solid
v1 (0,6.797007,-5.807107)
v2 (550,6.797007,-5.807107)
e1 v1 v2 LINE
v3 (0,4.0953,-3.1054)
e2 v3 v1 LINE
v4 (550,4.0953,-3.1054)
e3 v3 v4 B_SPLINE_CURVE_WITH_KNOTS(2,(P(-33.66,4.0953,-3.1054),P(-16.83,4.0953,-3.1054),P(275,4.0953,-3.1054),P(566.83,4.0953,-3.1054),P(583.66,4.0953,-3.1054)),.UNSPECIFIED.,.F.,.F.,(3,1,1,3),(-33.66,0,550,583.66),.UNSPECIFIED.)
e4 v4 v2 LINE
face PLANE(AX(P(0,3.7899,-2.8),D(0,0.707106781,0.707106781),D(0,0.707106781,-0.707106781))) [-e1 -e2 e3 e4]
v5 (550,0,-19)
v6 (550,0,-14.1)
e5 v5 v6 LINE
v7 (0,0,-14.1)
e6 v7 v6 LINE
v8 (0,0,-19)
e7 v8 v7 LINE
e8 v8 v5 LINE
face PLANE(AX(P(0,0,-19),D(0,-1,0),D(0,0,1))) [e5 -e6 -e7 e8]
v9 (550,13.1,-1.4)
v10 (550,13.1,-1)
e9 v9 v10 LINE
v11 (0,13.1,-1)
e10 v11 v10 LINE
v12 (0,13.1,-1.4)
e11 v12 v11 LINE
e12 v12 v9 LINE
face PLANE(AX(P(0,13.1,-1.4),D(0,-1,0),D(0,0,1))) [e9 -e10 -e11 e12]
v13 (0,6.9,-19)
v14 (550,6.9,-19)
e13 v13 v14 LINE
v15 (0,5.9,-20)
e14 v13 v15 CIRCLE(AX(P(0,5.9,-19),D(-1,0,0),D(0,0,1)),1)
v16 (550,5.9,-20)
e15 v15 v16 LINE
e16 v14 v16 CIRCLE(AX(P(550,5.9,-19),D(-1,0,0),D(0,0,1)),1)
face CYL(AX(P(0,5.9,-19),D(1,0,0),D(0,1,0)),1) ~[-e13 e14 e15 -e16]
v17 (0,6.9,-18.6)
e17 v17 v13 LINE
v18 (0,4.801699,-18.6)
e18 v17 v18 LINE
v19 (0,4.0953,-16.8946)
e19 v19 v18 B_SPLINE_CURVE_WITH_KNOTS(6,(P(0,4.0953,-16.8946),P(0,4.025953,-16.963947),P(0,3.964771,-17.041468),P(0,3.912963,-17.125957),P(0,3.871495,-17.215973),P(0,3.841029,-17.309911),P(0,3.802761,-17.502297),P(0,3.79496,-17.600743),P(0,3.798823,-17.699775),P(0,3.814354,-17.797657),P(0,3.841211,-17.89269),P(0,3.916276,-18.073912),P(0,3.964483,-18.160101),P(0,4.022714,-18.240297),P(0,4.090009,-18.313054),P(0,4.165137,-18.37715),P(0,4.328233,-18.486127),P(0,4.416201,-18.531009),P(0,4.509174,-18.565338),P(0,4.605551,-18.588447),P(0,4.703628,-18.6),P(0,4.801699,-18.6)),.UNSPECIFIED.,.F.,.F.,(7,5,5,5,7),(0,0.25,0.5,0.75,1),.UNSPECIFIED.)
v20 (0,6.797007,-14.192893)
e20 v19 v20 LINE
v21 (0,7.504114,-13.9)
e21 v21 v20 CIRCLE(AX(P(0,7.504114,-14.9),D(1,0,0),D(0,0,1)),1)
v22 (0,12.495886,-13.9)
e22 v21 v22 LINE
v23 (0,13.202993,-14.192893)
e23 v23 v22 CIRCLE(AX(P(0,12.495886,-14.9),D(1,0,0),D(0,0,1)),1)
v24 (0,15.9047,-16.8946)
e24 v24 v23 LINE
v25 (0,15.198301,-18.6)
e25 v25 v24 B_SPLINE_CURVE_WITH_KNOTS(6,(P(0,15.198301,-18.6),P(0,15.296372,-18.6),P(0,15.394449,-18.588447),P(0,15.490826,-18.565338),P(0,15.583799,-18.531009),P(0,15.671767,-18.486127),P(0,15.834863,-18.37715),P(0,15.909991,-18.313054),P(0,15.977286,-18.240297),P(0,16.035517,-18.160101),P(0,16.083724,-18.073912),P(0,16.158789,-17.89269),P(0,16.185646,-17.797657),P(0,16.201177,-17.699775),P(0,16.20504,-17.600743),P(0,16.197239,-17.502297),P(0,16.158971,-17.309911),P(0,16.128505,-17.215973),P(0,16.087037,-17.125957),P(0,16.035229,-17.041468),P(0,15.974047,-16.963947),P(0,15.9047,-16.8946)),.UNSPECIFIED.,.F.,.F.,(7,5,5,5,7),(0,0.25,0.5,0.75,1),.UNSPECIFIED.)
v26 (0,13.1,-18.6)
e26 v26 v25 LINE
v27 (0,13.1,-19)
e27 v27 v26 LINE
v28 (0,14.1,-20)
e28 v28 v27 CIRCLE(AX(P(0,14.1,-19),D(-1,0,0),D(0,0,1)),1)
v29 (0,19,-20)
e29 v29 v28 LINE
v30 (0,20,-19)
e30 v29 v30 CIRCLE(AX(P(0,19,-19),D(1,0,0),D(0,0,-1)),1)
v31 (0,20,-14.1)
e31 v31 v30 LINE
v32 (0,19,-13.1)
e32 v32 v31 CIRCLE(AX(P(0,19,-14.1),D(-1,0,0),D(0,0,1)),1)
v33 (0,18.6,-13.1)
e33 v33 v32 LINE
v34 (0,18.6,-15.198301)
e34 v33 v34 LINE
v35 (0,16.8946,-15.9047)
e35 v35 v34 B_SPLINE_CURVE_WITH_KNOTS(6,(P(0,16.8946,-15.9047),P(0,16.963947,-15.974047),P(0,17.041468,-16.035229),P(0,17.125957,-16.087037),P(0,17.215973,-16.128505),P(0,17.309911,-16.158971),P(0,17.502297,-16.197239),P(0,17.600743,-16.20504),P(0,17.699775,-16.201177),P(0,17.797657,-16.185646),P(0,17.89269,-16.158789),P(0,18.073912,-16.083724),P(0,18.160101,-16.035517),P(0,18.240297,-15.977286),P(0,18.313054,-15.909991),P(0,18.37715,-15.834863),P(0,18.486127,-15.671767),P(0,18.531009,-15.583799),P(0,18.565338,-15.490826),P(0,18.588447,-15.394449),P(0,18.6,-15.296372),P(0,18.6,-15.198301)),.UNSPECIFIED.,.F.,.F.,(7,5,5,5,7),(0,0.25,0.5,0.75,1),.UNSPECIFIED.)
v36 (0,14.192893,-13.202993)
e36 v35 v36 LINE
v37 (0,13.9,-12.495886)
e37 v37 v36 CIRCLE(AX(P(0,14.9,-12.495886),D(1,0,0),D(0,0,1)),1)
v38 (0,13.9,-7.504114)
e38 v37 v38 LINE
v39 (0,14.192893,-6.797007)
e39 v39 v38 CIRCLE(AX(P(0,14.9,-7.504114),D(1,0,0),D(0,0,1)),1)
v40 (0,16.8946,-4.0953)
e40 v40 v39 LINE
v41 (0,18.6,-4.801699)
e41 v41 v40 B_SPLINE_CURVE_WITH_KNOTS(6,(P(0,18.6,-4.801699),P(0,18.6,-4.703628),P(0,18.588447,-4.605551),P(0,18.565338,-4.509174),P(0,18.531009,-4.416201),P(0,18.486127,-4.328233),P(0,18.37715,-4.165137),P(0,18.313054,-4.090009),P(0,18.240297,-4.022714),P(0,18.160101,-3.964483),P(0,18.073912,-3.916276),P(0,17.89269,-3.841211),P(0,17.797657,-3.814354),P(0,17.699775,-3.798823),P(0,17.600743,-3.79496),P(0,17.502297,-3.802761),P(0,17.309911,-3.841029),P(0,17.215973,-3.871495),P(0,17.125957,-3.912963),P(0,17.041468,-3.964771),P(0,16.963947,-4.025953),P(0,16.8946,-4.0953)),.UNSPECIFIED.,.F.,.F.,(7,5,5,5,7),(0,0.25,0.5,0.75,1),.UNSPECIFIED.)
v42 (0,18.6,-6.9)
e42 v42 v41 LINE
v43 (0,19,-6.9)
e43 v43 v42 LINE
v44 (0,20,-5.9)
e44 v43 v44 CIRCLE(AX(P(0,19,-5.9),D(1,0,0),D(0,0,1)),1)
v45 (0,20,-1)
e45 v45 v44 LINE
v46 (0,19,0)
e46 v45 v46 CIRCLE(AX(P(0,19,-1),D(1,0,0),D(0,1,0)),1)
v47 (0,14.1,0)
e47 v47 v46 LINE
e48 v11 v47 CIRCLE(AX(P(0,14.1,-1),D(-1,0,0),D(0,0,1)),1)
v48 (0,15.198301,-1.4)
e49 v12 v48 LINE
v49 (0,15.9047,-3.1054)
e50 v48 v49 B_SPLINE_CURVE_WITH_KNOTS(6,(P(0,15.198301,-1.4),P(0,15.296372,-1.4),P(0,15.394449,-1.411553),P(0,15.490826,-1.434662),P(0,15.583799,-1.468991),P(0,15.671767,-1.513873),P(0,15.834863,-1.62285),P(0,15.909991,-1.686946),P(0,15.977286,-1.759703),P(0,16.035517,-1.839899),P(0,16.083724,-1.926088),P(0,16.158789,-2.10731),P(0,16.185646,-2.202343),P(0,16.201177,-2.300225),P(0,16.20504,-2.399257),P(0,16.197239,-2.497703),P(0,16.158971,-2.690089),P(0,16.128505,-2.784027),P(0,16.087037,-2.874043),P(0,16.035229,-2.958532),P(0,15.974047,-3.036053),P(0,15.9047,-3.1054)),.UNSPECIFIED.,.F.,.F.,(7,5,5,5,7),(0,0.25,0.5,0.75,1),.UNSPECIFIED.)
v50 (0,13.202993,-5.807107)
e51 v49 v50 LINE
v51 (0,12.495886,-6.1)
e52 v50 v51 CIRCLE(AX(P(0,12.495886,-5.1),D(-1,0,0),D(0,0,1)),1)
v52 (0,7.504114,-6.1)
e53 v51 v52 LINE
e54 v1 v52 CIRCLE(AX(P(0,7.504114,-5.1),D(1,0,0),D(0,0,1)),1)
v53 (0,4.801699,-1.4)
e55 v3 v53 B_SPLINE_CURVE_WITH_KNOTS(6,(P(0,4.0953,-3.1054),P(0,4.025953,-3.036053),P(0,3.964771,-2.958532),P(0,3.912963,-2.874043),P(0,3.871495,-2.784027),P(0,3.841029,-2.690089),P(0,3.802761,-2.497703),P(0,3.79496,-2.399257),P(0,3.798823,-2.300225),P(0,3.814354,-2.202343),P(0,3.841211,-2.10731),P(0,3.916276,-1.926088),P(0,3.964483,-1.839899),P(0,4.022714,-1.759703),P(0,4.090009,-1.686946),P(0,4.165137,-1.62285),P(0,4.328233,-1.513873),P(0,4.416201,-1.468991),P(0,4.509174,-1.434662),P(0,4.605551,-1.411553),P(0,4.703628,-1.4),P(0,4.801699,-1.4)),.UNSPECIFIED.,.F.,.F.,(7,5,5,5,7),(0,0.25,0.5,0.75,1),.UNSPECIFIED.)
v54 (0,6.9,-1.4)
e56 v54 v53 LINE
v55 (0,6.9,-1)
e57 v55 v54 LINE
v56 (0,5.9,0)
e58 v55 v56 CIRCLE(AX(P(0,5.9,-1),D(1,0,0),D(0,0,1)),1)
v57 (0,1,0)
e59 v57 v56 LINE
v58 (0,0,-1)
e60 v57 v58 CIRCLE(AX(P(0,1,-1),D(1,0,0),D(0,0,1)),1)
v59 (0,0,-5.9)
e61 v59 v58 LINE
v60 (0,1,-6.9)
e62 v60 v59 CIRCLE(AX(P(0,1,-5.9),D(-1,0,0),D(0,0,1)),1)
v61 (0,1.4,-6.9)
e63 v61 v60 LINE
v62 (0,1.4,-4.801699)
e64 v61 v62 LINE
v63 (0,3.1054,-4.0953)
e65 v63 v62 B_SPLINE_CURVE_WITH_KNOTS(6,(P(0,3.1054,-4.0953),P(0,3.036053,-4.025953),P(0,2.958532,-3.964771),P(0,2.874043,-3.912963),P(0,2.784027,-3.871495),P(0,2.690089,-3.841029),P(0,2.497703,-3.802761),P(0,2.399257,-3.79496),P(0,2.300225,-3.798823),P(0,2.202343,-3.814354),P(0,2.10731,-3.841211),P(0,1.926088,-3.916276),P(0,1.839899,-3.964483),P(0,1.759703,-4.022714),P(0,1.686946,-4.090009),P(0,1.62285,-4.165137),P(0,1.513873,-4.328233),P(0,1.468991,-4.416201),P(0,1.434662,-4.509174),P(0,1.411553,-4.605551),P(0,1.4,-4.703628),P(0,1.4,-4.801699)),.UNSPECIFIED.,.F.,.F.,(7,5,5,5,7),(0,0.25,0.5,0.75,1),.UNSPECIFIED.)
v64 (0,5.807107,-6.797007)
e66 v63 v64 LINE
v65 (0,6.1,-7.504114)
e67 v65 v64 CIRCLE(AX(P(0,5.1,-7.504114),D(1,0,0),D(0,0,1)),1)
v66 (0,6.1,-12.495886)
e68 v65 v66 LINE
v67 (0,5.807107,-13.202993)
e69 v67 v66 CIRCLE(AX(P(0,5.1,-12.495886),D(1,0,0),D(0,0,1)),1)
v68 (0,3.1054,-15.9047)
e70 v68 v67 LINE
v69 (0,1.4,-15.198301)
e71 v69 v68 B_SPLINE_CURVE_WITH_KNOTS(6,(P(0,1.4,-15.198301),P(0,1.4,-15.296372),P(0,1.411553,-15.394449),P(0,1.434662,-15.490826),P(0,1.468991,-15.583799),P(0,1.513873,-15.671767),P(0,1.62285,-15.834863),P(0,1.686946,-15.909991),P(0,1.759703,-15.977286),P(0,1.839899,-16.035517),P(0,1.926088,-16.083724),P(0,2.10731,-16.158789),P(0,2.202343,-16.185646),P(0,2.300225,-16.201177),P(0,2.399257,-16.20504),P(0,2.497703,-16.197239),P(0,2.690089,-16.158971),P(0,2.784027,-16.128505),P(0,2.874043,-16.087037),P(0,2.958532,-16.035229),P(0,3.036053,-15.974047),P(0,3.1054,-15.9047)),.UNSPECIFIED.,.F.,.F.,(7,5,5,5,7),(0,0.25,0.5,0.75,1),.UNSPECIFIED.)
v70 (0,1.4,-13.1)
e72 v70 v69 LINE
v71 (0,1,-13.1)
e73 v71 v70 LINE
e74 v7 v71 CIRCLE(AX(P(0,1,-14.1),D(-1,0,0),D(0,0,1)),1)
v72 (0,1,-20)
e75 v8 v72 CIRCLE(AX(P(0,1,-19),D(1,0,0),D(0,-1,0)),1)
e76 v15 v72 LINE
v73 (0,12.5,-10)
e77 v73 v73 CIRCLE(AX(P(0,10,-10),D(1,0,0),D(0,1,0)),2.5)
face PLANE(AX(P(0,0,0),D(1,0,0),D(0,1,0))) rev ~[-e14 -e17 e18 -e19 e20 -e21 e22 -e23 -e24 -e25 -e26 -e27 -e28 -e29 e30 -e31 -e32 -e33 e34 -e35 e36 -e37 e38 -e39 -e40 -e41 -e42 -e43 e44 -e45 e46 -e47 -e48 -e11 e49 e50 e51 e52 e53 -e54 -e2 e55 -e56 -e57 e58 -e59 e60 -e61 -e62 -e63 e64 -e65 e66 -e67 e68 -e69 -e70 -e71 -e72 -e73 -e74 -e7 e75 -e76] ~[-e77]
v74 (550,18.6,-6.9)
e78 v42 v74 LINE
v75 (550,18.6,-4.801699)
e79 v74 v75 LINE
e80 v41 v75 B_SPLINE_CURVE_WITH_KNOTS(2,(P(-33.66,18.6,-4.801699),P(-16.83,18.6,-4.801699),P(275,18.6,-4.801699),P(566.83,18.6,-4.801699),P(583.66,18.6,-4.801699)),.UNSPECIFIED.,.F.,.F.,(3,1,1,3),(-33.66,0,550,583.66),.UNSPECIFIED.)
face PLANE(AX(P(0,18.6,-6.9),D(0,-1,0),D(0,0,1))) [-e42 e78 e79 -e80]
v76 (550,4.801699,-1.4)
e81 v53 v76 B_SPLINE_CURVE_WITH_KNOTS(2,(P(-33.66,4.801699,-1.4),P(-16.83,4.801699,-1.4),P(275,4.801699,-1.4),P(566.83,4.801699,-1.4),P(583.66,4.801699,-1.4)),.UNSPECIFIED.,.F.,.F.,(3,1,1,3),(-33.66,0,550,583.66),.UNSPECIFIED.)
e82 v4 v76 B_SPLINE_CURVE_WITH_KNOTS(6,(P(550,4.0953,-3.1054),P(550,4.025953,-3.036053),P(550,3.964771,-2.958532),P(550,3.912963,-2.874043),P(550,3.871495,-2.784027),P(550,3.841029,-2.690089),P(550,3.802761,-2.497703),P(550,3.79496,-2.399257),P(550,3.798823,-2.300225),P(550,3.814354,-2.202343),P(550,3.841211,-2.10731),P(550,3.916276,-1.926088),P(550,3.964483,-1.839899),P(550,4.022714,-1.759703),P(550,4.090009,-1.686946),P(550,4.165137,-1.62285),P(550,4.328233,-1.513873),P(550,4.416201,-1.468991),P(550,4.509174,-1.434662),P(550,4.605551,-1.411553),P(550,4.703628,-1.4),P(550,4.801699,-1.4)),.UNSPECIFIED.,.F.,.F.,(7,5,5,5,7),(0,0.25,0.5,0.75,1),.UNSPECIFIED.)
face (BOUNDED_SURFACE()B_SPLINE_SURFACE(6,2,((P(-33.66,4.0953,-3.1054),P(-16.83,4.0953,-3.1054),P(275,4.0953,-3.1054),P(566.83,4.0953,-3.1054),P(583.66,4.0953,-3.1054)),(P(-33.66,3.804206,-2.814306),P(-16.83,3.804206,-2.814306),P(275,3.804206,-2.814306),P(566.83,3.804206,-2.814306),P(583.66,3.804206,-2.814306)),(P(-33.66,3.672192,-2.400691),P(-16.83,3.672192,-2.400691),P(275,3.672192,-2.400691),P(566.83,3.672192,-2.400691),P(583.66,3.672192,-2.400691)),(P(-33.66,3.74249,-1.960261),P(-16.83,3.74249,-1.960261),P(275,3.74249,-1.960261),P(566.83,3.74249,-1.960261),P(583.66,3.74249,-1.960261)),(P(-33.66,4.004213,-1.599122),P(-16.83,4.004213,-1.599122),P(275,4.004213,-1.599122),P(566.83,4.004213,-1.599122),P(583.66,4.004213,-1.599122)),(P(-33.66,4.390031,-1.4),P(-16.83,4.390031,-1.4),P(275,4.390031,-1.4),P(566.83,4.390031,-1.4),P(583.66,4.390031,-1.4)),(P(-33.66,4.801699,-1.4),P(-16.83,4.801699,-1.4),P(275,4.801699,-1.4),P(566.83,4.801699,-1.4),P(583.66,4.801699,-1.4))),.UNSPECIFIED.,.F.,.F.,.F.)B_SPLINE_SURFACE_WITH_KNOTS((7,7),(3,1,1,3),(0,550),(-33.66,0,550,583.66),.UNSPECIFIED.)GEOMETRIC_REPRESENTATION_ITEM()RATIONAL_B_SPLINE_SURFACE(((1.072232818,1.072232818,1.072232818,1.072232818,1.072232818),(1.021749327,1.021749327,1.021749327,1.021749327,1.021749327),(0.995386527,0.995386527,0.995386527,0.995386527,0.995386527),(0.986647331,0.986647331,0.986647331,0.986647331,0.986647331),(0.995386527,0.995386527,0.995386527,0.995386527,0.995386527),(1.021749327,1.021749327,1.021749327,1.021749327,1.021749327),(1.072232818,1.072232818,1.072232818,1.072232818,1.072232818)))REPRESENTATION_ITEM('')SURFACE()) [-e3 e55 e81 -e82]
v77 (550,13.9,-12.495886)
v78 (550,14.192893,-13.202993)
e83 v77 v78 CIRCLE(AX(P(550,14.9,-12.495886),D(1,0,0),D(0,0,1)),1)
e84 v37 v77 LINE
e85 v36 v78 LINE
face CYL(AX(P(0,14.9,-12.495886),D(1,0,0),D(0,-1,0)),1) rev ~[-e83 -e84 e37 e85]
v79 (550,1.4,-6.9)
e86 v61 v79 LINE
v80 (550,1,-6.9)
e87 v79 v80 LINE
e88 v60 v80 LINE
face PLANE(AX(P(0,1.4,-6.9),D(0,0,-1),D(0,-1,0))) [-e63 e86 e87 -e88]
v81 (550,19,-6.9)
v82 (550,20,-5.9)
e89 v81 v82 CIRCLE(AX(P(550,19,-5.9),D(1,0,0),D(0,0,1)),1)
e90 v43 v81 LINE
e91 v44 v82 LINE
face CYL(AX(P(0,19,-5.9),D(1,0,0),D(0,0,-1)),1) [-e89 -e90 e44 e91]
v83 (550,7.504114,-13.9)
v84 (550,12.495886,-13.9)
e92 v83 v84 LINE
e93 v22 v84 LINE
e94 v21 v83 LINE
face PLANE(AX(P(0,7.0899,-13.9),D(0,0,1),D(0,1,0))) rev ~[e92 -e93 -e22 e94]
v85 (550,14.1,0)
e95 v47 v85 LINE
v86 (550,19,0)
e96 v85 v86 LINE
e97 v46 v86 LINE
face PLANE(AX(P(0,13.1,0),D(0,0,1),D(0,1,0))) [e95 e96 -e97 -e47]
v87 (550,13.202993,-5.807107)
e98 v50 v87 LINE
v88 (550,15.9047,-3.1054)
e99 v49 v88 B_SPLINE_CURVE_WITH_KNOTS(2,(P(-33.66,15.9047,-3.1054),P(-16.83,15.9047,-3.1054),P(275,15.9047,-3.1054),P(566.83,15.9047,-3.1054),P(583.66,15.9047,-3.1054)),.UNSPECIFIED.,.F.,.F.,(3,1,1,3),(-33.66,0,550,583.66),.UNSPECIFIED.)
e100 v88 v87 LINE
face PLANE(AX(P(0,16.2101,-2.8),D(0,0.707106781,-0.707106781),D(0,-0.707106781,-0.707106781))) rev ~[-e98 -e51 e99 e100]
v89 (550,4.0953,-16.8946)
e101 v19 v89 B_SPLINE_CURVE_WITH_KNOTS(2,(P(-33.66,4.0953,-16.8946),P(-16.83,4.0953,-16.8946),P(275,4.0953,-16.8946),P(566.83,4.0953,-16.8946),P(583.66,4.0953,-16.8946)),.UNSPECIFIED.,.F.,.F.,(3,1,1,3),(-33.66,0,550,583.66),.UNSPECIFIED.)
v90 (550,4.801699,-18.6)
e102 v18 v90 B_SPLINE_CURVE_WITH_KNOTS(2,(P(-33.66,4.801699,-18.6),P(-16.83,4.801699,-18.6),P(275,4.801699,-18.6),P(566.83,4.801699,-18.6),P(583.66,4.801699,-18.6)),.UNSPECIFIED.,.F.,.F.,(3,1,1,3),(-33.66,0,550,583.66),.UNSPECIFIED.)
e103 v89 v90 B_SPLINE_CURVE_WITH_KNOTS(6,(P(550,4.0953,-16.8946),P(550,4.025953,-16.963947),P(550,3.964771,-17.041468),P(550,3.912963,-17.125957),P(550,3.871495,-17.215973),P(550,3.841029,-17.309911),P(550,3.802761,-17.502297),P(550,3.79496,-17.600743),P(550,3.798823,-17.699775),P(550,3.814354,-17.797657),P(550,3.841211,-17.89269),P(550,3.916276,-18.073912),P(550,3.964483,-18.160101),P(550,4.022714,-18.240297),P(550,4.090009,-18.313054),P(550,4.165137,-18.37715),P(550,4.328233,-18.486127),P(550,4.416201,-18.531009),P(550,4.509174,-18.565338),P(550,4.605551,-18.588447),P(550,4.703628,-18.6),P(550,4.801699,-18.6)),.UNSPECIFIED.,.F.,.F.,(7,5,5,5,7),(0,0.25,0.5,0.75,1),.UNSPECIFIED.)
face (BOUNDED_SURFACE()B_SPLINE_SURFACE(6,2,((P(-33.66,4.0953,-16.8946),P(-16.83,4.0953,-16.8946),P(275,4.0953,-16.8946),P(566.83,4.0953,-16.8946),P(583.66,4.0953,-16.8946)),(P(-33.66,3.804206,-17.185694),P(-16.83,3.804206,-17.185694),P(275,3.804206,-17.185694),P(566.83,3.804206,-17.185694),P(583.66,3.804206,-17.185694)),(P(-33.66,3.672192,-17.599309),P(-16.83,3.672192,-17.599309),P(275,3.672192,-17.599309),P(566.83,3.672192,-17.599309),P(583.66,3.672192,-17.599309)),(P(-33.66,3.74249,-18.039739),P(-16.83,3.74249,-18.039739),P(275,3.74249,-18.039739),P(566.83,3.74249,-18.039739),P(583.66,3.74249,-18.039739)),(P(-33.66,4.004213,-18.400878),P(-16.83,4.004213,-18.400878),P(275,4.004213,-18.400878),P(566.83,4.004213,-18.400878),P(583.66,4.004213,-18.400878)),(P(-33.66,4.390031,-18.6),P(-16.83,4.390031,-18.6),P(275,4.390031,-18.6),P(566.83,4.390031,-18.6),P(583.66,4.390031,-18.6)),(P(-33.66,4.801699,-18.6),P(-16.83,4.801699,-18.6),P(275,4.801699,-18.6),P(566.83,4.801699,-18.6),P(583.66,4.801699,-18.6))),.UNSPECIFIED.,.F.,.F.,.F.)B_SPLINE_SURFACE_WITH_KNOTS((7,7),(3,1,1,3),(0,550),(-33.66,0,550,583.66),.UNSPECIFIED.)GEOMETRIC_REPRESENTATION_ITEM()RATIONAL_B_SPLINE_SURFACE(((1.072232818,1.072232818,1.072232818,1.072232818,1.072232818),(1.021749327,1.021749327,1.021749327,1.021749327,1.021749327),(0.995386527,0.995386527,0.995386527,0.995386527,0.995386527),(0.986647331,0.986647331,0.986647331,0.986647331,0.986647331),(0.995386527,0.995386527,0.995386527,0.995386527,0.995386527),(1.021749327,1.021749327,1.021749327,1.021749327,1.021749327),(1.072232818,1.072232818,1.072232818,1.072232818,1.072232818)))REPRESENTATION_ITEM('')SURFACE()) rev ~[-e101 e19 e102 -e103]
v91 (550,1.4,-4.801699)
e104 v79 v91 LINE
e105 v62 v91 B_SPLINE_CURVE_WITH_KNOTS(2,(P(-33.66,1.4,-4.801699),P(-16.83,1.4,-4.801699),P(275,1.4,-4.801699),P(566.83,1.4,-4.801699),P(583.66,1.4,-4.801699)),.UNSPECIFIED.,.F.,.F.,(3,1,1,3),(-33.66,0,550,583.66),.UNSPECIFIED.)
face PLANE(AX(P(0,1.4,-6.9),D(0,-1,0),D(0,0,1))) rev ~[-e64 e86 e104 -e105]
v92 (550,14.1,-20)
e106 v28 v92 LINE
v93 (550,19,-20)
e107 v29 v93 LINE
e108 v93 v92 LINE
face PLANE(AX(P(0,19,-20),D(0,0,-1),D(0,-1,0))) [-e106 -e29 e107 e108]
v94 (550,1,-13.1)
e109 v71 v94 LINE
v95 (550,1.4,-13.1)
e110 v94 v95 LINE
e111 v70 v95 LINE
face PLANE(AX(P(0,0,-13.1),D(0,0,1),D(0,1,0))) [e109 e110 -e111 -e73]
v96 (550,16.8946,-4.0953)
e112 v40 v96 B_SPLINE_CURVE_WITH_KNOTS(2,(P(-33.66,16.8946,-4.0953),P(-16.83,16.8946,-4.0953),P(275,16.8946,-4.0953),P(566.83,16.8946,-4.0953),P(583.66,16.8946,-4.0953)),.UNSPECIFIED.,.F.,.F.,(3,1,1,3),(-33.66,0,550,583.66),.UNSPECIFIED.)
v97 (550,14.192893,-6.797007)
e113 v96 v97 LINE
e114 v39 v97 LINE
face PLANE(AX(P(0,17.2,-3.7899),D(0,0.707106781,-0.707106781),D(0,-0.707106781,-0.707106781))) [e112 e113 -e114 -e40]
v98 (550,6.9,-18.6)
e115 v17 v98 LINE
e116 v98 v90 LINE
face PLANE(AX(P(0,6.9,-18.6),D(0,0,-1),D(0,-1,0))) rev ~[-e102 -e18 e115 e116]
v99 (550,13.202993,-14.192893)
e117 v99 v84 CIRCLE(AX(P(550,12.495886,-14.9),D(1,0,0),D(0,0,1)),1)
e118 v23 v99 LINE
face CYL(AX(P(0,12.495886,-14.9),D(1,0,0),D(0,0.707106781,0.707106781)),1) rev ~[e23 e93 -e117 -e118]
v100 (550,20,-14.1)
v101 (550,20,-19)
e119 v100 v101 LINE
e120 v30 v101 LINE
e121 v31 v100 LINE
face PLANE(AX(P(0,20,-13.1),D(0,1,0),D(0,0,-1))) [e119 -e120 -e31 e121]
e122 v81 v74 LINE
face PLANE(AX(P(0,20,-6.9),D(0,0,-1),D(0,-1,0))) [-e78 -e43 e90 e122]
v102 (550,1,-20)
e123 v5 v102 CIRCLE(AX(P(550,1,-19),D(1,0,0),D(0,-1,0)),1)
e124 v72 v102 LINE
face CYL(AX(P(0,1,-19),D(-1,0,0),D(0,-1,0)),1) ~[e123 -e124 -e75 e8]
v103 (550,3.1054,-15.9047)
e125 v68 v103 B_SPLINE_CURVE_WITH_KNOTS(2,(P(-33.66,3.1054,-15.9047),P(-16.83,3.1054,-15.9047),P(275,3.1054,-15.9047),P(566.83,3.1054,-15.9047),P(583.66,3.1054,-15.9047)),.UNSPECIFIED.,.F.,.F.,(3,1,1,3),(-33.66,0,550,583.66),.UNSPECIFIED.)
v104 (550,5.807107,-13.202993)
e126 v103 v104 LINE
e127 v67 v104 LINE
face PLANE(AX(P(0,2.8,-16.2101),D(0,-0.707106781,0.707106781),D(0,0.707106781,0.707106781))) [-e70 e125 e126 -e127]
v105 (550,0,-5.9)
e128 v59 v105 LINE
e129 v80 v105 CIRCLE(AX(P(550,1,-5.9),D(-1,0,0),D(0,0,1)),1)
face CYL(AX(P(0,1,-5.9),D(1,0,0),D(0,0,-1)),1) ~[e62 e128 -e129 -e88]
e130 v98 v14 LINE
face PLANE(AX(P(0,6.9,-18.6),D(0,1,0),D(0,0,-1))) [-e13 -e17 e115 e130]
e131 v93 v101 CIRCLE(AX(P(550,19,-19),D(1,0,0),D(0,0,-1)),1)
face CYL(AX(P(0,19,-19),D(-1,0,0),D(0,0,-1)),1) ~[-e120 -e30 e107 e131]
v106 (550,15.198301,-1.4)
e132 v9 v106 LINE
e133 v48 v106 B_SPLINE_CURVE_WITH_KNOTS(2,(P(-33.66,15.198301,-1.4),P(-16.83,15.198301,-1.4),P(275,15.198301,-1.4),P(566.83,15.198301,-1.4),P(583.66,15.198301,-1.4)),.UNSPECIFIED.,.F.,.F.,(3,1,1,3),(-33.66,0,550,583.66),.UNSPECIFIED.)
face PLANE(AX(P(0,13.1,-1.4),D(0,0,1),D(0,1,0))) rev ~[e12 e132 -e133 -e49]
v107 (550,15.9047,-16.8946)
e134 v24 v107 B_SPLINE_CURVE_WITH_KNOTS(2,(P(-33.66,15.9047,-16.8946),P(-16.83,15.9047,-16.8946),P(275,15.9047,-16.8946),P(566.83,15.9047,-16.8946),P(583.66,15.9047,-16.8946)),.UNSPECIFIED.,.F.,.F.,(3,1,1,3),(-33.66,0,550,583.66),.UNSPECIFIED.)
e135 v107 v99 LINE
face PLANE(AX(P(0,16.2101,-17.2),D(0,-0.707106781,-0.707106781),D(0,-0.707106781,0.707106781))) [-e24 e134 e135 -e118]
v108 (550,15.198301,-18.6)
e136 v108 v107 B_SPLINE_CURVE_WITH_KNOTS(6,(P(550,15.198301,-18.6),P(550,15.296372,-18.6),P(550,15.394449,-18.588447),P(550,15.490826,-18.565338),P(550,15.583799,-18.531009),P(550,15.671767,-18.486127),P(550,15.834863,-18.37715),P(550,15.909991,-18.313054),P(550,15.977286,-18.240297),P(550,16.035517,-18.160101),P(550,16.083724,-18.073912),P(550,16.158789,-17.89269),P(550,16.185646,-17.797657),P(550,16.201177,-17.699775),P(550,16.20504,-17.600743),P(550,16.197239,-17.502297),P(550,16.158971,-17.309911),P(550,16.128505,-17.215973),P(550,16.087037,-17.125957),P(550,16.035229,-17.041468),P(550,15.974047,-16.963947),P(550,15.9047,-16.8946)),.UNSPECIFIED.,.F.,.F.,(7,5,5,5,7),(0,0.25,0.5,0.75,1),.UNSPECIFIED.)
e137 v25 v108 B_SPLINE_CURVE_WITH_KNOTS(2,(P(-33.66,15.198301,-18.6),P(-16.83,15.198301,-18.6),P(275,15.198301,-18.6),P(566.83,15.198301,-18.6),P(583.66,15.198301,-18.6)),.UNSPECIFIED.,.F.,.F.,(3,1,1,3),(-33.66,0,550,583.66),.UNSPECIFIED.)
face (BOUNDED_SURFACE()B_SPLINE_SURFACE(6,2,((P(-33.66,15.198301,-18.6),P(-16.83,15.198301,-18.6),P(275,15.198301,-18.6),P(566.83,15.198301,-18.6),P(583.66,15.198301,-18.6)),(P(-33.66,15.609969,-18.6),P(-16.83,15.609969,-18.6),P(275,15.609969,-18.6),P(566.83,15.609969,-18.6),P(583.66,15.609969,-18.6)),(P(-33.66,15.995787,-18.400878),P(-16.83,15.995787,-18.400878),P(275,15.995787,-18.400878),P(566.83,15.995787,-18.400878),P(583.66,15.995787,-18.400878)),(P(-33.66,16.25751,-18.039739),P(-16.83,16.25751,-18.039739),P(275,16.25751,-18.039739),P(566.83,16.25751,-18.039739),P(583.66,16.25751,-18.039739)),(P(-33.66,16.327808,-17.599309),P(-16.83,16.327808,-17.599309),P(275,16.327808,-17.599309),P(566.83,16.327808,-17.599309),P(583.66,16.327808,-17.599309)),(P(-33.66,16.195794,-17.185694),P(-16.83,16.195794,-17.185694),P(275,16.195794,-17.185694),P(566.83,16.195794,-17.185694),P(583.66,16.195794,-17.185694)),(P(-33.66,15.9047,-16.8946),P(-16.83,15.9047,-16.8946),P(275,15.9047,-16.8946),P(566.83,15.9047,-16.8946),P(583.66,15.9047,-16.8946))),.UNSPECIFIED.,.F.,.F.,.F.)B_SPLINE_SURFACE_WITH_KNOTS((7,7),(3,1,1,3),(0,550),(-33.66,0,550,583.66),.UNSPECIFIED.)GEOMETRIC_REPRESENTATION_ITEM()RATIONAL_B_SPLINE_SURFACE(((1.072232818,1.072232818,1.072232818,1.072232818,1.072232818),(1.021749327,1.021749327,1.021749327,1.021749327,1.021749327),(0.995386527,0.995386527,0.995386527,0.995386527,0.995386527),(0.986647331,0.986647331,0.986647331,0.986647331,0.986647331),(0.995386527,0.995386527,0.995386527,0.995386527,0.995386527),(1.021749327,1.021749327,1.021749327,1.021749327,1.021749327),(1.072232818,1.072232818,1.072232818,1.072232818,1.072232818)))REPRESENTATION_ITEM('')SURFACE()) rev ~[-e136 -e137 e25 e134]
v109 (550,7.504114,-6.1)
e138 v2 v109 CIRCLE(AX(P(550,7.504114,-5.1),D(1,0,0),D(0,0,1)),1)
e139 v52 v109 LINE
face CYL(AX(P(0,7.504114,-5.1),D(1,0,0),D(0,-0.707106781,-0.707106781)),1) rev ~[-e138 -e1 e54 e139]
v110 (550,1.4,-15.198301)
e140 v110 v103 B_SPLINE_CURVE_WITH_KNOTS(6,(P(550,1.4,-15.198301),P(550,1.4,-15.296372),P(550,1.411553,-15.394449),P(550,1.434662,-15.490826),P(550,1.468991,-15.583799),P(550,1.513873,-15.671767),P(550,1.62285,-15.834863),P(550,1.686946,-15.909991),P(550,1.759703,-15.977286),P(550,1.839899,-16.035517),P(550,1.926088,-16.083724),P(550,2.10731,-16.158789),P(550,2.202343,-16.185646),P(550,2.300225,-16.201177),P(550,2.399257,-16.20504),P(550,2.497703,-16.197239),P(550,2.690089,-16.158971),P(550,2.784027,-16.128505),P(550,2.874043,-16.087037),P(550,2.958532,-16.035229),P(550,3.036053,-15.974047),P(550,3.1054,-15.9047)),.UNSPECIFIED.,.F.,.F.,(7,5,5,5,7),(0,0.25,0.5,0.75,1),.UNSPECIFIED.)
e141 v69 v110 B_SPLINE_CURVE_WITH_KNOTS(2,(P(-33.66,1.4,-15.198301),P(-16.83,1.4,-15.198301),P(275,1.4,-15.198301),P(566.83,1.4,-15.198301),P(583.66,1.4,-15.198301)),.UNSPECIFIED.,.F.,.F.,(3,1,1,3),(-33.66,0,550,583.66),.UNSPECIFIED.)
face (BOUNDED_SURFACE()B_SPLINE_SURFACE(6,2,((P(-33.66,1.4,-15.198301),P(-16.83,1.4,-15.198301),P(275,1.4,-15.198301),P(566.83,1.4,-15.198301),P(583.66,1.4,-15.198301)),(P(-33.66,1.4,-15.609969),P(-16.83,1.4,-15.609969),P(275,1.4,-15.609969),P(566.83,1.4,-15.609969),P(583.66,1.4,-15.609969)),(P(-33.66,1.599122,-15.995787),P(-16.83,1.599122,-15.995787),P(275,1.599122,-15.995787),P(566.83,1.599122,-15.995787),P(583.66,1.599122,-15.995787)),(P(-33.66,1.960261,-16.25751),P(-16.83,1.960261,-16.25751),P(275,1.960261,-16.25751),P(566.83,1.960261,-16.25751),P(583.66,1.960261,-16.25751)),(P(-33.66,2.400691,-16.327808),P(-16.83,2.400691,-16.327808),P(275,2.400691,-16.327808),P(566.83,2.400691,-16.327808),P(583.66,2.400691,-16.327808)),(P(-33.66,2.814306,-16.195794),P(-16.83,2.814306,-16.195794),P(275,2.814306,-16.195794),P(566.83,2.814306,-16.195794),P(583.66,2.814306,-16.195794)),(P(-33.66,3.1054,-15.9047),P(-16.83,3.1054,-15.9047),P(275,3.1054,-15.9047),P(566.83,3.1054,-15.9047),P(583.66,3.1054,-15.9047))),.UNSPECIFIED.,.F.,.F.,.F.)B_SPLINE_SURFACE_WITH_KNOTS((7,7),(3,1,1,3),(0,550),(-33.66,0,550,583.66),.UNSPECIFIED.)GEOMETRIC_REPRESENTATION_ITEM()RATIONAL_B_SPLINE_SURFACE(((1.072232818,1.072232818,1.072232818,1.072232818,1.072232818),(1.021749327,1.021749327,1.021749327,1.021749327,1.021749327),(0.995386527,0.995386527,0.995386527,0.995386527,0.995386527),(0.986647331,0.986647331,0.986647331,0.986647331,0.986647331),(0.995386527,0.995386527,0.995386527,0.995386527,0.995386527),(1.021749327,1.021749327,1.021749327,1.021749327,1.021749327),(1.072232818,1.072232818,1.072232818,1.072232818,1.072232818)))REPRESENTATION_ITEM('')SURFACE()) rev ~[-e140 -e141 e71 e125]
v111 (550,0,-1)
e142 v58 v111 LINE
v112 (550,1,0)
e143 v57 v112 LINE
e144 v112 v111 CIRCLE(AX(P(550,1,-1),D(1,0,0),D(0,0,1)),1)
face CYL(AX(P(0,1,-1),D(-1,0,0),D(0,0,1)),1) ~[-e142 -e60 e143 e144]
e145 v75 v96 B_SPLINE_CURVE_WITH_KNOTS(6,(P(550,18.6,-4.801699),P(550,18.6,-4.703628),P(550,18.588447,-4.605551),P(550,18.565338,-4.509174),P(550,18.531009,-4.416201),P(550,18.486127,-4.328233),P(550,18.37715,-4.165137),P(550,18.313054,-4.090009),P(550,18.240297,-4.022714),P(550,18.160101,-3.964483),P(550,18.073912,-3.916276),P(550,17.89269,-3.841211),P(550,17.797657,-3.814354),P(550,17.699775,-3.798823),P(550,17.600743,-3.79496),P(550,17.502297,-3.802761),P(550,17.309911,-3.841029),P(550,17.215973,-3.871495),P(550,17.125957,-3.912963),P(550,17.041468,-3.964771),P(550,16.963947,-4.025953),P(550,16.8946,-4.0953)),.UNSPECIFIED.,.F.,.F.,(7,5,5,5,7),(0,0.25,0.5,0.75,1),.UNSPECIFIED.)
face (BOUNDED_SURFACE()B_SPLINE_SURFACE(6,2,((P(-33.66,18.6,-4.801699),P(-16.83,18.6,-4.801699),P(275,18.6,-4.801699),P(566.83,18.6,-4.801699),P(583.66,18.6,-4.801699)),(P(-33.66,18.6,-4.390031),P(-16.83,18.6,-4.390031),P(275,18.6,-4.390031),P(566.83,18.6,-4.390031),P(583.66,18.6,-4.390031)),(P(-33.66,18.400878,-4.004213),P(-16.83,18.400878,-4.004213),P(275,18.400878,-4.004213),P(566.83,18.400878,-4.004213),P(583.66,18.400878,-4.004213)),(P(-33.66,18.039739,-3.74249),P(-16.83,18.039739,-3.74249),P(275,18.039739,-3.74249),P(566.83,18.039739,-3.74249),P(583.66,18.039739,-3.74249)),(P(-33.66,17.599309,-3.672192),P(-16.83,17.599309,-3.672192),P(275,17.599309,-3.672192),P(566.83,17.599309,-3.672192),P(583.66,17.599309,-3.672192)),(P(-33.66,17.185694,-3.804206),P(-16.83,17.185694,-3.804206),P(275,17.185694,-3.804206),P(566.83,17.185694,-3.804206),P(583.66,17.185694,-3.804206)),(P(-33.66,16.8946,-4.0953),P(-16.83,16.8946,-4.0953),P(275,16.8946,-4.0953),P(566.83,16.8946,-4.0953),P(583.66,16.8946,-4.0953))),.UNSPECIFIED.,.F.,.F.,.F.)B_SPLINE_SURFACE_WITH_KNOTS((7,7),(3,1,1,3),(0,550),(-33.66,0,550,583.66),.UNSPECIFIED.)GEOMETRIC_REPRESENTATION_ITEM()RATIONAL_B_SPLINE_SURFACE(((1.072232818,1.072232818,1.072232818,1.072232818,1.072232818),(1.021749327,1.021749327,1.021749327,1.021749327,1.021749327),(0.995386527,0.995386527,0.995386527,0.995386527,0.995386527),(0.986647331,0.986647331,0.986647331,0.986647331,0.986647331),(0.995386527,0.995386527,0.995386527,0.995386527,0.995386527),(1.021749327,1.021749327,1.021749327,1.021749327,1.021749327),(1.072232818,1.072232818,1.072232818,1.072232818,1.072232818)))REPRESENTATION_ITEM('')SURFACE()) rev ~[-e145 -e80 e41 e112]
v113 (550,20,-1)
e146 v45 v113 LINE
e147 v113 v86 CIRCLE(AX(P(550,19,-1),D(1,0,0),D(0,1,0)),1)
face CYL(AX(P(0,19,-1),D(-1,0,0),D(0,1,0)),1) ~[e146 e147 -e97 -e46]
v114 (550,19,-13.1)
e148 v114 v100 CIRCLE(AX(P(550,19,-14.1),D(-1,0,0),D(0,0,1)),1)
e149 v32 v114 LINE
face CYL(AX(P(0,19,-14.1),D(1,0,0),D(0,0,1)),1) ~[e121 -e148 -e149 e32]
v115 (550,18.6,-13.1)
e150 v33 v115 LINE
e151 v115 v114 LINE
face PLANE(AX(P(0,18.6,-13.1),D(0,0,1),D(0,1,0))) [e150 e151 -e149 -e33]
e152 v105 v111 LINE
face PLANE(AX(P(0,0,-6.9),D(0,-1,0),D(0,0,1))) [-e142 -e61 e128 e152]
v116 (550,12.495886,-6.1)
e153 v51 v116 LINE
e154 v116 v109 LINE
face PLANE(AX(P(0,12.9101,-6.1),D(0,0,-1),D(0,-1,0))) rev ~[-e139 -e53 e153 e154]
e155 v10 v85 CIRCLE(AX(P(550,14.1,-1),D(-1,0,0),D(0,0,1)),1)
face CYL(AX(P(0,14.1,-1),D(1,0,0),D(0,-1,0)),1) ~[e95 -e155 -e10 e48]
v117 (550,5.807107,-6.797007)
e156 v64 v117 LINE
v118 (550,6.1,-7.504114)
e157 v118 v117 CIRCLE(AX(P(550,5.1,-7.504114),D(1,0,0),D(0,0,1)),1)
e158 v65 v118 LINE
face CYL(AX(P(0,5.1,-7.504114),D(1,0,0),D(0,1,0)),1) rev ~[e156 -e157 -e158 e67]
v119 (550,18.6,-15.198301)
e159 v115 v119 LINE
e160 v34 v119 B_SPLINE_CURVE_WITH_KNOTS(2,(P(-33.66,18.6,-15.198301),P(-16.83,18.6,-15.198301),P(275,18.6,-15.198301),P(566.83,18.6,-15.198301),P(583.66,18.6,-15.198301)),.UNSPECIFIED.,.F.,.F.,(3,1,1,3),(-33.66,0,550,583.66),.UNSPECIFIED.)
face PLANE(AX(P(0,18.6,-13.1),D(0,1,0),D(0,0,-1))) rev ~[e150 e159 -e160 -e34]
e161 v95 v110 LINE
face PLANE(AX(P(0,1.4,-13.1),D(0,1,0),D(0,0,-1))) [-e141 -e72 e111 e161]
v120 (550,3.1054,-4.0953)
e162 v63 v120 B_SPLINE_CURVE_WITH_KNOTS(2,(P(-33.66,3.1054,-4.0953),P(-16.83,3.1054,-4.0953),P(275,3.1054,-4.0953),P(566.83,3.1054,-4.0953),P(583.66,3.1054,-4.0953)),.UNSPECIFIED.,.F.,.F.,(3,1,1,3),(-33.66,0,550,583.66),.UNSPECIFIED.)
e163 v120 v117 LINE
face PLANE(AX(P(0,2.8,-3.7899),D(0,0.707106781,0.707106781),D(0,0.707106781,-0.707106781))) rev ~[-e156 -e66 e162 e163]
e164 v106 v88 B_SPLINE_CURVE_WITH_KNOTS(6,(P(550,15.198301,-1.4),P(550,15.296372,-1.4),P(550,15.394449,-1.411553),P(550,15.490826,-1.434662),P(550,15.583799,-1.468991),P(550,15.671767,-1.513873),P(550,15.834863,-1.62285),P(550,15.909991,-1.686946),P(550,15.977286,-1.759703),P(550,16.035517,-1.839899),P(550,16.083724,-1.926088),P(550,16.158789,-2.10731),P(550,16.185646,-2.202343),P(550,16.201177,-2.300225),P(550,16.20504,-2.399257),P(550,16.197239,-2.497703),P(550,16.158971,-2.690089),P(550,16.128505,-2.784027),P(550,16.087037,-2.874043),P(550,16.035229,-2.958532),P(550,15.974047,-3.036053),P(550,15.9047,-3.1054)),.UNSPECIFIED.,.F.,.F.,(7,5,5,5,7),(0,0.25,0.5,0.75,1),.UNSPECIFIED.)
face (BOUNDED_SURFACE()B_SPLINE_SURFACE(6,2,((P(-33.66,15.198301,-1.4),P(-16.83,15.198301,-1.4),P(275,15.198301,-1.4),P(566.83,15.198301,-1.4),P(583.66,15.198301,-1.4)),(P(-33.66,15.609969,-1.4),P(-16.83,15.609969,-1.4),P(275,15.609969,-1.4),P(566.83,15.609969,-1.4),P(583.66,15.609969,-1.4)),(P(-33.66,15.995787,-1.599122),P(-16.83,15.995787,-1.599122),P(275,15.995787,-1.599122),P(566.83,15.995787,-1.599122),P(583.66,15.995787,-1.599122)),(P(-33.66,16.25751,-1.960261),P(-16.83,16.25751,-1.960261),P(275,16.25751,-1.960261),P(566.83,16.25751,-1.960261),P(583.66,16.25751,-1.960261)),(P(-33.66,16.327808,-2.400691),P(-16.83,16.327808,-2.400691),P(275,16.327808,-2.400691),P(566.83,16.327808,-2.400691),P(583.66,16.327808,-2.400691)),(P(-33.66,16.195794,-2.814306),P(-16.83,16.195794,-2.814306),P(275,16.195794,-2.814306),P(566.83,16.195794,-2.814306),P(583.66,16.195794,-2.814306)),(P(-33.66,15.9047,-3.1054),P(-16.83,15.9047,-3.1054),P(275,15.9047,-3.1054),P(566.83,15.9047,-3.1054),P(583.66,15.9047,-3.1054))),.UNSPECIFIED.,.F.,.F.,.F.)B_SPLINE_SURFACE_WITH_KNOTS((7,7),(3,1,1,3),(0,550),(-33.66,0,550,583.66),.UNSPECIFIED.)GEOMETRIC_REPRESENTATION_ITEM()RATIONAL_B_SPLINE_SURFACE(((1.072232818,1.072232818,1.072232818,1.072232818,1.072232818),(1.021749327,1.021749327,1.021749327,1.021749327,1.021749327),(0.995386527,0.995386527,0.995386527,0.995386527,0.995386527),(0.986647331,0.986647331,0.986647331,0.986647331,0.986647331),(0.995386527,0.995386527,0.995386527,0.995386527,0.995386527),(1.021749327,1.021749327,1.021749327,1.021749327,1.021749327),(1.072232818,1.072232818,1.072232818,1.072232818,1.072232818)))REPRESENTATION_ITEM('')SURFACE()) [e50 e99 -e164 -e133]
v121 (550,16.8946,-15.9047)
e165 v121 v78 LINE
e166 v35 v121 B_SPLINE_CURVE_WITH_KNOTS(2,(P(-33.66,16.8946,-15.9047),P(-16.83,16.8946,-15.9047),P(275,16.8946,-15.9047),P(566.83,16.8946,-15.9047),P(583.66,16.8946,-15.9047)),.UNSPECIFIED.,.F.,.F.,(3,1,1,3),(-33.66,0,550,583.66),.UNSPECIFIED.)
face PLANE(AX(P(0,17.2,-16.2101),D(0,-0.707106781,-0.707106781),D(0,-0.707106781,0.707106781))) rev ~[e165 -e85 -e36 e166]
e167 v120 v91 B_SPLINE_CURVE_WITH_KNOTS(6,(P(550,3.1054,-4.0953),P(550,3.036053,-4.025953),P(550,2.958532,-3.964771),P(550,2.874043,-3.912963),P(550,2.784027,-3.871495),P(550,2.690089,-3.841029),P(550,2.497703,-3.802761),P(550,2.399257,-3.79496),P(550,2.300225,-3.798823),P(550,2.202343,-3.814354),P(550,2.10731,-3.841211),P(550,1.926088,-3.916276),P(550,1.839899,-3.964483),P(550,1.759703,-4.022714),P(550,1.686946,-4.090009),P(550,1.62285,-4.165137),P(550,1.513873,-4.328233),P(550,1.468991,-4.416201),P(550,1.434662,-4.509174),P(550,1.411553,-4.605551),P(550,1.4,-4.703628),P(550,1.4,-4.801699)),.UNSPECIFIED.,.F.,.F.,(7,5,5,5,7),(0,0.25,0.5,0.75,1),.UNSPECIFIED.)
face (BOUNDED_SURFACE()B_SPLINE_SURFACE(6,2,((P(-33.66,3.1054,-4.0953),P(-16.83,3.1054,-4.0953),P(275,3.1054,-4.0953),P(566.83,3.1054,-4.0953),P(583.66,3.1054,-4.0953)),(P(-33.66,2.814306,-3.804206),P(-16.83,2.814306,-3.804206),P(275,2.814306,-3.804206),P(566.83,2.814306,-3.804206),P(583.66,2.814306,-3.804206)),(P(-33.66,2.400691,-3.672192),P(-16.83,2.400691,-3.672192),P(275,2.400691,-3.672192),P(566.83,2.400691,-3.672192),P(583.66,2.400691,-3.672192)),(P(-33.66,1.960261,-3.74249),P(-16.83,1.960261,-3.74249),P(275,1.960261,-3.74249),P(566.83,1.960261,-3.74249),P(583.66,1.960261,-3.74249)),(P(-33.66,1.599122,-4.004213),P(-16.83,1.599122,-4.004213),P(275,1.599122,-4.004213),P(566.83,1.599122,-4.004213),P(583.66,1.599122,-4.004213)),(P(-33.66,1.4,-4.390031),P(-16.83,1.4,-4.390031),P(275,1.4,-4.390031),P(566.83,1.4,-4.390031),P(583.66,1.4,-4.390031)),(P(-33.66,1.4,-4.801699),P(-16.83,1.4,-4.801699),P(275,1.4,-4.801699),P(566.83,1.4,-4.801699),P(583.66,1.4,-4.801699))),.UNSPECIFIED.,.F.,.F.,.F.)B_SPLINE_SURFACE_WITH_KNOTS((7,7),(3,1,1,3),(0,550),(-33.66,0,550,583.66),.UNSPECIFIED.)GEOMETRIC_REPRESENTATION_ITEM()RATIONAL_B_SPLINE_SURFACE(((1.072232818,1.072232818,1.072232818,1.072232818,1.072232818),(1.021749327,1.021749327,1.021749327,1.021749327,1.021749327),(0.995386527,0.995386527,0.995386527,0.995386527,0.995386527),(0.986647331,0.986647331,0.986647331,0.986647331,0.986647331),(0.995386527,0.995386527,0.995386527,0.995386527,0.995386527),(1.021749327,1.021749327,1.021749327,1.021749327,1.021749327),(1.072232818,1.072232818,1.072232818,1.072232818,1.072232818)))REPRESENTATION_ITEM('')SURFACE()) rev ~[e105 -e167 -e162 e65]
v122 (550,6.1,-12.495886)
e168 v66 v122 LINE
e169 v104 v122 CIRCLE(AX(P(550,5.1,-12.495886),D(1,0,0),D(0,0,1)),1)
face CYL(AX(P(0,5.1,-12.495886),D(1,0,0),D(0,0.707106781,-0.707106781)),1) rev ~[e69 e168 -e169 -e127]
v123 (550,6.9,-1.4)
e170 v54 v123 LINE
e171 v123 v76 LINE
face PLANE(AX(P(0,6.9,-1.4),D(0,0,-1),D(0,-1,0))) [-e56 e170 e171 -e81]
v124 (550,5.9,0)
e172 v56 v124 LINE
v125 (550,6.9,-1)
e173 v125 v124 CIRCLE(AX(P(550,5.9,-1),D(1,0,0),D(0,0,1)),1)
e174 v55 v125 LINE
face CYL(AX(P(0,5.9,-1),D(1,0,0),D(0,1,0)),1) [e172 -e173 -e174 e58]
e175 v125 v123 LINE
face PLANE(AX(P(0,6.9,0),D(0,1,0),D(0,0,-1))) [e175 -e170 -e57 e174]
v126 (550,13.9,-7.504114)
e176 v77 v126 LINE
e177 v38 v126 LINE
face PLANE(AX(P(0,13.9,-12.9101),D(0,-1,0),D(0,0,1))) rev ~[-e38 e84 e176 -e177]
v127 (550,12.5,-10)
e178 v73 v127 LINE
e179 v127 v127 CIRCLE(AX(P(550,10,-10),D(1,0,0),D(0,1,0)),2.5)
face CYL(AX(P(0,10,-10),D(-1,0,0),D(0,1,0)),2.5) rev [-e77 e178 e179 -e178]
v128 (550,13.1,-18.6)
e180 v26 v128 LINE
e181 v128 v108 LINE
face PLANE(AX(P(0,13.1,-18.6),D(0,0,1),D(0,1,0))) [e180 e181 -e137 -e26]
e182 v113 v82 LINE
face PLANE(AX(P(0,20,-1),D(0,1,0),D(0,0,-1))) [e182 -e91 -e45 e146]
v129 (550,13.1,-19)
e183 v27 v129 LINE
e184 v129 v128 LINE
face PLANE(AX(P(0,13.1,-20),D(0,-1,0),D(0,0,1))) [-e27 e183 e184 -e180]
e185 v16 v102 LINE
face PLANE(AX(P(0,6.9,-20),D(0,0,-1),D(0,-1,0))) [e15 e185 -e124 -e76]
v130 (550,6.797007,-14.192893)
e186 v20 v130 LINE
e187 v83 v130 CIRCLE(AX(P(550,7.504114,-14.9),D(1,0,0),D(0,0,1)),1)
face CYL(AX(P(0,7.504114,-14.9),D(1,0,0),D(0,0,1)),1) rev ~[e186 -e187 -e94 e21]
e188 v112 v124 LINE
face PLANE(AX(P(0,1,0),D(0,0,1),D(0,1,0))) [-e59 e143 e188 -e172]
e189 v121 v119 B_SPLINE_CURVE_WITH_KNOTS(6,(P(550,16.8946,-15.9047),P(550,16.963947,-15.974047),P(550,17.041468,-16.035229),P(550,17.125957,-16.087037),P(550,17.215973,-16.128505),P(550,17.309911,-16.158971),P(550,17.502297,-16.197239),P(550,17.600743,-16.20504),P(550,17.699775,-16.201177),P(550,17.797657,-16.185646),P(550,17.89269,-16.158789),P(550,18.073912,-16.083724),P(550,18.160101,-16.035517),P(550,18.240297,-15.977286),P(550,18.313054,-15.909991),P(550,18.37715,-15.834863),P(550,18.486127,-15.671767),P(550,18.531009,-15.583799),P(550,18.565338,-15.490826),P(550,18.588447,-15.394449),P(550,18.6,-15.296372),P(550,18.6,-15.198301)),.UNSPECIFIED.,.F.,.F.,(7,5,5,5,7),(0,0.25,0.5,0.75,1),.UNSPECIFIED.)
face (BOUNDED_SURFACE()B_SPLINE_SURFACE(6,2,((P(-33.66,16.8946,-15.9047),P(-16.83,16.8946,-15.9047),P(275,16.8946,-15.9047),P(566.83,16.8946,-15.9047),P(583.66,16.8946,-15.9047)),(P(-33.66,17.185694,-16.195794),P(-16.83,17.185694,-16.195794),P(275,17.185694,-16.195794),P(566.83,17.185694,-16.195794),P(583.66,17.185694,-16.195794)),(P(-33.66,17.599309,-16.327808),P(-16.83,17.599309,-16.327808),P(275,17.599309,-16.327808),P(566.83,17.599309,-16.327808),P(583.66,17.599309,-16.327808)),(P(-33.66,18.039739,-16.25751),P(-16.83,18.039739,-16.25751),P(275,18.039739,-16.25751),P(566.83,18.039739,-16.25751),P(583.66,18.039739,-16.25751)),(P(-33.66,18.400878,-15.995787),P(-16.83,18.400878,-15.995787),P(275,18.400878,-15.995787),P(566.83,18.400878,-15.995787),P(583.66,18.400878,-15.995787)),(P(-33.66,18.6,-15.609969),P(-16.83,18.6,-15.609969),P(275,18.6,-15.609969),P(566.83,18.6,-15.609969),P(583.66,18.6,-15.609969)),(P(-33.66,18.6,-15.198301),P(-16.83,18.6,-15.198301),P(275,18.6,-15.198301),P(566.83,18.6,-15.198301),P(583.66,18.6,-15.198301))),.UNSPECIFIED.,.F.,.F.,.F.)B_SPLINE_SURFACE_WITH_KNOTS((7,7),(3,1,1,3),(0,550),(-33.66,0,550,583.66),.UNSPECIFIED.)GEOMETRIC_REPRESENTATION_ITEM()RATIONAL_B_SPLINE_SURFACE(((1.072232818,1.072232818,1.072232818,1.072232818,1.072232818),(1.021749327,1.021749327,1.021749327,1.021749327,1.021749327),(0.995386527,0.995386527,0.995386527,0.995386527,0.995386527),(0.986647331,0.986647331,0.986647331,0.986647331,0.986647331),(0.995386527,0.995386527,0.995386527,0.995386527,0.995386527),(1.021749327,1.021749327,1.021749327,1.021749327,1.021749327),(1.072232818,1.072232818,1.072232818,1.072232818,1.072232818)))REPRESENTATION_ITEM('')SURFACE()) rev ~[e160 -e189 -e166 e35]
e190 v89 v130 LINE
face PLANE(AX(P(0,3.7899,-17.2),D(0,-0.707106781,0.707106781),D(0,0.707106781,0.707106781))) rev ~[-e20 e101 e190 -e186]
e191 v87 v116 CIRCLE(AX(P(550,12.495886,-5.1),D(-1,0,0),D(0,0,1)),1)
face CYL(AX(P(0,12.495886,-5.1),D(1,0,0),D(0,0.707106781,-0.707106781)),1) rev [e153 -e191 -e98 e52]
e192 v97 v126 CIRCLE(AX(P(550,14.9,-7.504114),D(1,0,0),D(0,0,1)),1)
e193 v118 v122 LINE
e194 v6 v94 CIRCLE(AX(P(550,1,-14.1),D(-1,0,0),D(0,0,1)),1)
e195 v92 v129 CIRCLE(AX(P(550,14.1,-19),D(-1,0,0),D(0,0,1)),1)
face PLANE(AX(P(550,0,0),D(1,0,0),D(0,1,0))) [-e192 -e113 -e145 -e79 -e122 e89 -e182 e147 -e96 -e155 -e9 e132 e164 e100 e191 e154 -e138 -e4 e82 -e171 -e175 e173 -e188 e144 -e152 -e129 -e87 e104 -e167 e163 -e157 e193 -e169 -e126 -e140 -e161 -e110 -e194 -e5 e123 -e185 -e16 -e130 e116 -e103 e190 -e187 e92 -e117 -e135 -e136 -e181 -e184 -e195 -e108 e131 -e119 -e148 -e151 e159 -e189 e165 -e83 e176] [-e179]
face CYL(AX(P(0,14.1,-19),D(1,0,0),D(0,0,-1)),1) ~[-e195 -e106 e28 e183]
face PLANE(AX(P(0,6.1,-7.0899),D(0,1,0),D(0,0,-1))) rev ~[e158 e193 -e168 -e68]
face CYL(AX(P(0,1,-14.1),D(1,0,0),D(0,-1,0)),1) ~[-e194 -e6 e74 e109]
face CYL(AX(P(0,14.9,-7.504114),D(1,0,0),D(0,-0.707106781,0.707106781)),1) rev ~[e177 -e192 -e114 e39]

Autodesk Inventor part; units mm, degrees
ref_plane "YZ Plane" through (0, 0, 0) normal (1, 0, 0) x (0, 1, 0)
ref_plane "XZ Plane" through (0, 0, 0) normal (0, 1, 0) x (-1, 0, 0)
ref_plane "XY Plane" through (0, 0, 0) normal (0, 0, 1) x (1, 0, 0)
sketch "Sketch2" plane through (0, 0, 0) normal (1, 0, 0) x (0, 1, 0)
  line L0 (1, 0) -> (19, 0)
  line L1 (20, -1) -> (20, -19)
  line L2 (19, -20) -> (1, -20)
  line L3 (0, -19) -> (0, -1)
  circle A0 centre (10, -10) radius 2.5
  line L4 (13.9, -6.1) -> (6.1, -6.1)
  line L5 (6.1, -6.1) -> (6.1, -13.9)
  line L6 (6.1, -13.9) -> (13.9, -13.9)
  line L7 (13.9, -13.9) -> (13.9, -6.1)
  line L8 (13.1, -20) -> (13.1, -18.6)
  line L9 (13.1, -18.6) -> (16.2101, -18.6)
  line L10 (16.2101, -18.6) -> (16.2101, -17.2)
  line L11 (16.2101, -17.2) -> (12.9101, -13.9)
  line L12 (10, -20) -> (10, -13.9) construction
  line L13 (6.9, -18.6) -> (3.7899, -18.6)
  line L14 (3.7899, -18.6) -> (3.7899, -17.2)
  line L15 (3.7899, -17.2) -> (7.0899, -13.9)
  line L16 (6.9, -18.6) -> (6.9, -20)
  line L17 (1.4, -6.9) -> (1.4, -3.7899)
  line L18 (1.4, -6.9) -> (0, -6.9)
  line L19 (1.4, -3.7899) -> (2.8, -3.7899)
  line L20 (2.8, -3.7899) -> (6.1, -7.0899)
  line L21 (0, -13.1) -> (1.4, -13.1)
  line L22 (1.4, -13.1) -> (1.4, -16.2101)
  line L23 (1.4, -16.2101) -> (2.8, -16.2101)
  line L24 (2.8, -16.2101) -> (6.1, -12.9101)
  line L25 (13.1, -1.4) -> (16.2101, -1.4)
  line L26 (13.1, -1.4) -> (13.1, 0)
  line L27 (16.2101, -1.4) -> (16.2101, -2.8)
  line L28 (16.2101, -2.8) -> (12.9101, -6.1)
  line L29 (6.9, 0) -> (6.9, -1.4)
  line L30 (6.9, -1.4) -> (3.7899, -1.4)
  line L31 (3.7899, -1.4) -> (3.7899, -2.8)
  line L32 (3.7899, -2.8) -> (7.0899, -6.1)
  line L33 (18.6, -13.1) -> (18.6, -16.2101)
  line L34 (18.6, -13.1) -> (20, -13.1)
  line L35 (18.6, -16.2101) -> (17.2, -16.2101)
  line L36 (17.2, -16.2101) -> (13.9, -12.9101)
  line L37 (20, -6.9) -> (18.6, -6.9)
  line L38 (18.6, -6.9) -> (18.6, -3.7899)
  line L39 (18.6, -3.7899) -> (17.2, -3.7899)
  line L40 (17.2, -3.7899) -> (13.9, -7.0899)
  arc A1 (20, -1) -> (19, 0) centre (19, -1) ccw
  arc A2 (19, -20) -> (20, -19) centre (19, -19) ccw
  arc A3 (0, -19) -> (1, -20) centre (1, -19) ccw
  arc A4 (1, 0) -> (0, -1) centre (1, -1) ccw
  point P0 (0, 0)
  point P1 (20, -20)
  point P2 (20, 0)
  point P3 (0, -20)
  point P4 (20, -10)
  point P5 (13.9, -10)
  point P6 (14.655, -18.6)
  point P7 (1.4, -14.655)
  point P8 (5.345, -1.4)
  point P9 (18.6, -5.345)
  point P10 (13.9, -12.9101)
  point P11 (13.9, -7.0899)
  point P12 (20, -6.9)
  point P13 (13.1, 0)
  point P14 (12.9101, -6.1)
  point P15 (7.0899, -6.1)
  point P16 (6.9, 0)
  point P17 (0, -6.9)
  point P18 (6.1, -7.0899)
  point P19 (6.1, -12.9101)
  point P20 (0, -13.1)
  point P21 (20, -13.1)
  dimension "d0" = 20
  dimension "d1" = 20
  dimension "d2" = 5
  dimension "d3" = 6.1
  dimension "d4" = 6.1
  dimension "d5" = 6.2
  dimension "d6" = 1.4
  dimension "d7" = 0.7
  dimension "d8" = 45
  dimension "d9" = 1.4
  dimension "d12" = 360
  dimension "d29" = 1
extrude "Extrusion3" add sketch "Sketch2" along normal blind 550 contours L0 L29 L30 L31 L32 L4 L5 L20 L19 L17 L18 L3 A4 | L0 A1 L1 L37 L38 L39 L40 L7 L4 L28 L27 L25 L26 | L21 L22 L23 L24 L5 L6 L15 L14 L13 L16 L2 A3 L3 | L4 L7 L6 L5 | L1 A2 L2 L8 L9 L10 L11 L6 L7 L36 L35 L33 L34
fillet "Fillet2" radius 1 32 edges at (275, 17.2, -16.2101) (275, 18.6, -16.2101) (275, 20, -13.1) (275, 20, -6.9) (275, 18.6, -3.7899) (275, 17.2, -3.7899) (275, 13.9, -7.0899) (275, 13.9, -12.9101) (275, 13.1, -20) (275, 16.2101, -18.6) (275, 16.2101, -17.2) (275, 12.9101, -13.9) (275, 7.0899, -13.9) (275, 3.7899, -17.2) (275, 3.7899, -18.6) (275, 6.9, -20) (275, 0, -13.1) (275, 1.4, -16.2101) (275, 2.8, -16.2101) (275, 6.1, -12.9101) (275, 6.1, -7.0899) (275, 2.8, -3.7899) (275, 1.4, -3.7899) (275, 0, -6.9) (275, 3.7899, -2.8) (275, 3.7899, -1.4) (275, 6.9, 0) (275, 7.0899, -6.1) (275, 13.1, 0) (275, 16.2101, -1.4) (275, 16.2101, -2.8) (275, 12.9101, -6.1)
equation "\"d7\" = 0.5 * d6"
equation "\"d9\" = d6"
equation "\"Length\" = 550"
properties part number "20x20 Channel-550" material "Aluminum 6061"
